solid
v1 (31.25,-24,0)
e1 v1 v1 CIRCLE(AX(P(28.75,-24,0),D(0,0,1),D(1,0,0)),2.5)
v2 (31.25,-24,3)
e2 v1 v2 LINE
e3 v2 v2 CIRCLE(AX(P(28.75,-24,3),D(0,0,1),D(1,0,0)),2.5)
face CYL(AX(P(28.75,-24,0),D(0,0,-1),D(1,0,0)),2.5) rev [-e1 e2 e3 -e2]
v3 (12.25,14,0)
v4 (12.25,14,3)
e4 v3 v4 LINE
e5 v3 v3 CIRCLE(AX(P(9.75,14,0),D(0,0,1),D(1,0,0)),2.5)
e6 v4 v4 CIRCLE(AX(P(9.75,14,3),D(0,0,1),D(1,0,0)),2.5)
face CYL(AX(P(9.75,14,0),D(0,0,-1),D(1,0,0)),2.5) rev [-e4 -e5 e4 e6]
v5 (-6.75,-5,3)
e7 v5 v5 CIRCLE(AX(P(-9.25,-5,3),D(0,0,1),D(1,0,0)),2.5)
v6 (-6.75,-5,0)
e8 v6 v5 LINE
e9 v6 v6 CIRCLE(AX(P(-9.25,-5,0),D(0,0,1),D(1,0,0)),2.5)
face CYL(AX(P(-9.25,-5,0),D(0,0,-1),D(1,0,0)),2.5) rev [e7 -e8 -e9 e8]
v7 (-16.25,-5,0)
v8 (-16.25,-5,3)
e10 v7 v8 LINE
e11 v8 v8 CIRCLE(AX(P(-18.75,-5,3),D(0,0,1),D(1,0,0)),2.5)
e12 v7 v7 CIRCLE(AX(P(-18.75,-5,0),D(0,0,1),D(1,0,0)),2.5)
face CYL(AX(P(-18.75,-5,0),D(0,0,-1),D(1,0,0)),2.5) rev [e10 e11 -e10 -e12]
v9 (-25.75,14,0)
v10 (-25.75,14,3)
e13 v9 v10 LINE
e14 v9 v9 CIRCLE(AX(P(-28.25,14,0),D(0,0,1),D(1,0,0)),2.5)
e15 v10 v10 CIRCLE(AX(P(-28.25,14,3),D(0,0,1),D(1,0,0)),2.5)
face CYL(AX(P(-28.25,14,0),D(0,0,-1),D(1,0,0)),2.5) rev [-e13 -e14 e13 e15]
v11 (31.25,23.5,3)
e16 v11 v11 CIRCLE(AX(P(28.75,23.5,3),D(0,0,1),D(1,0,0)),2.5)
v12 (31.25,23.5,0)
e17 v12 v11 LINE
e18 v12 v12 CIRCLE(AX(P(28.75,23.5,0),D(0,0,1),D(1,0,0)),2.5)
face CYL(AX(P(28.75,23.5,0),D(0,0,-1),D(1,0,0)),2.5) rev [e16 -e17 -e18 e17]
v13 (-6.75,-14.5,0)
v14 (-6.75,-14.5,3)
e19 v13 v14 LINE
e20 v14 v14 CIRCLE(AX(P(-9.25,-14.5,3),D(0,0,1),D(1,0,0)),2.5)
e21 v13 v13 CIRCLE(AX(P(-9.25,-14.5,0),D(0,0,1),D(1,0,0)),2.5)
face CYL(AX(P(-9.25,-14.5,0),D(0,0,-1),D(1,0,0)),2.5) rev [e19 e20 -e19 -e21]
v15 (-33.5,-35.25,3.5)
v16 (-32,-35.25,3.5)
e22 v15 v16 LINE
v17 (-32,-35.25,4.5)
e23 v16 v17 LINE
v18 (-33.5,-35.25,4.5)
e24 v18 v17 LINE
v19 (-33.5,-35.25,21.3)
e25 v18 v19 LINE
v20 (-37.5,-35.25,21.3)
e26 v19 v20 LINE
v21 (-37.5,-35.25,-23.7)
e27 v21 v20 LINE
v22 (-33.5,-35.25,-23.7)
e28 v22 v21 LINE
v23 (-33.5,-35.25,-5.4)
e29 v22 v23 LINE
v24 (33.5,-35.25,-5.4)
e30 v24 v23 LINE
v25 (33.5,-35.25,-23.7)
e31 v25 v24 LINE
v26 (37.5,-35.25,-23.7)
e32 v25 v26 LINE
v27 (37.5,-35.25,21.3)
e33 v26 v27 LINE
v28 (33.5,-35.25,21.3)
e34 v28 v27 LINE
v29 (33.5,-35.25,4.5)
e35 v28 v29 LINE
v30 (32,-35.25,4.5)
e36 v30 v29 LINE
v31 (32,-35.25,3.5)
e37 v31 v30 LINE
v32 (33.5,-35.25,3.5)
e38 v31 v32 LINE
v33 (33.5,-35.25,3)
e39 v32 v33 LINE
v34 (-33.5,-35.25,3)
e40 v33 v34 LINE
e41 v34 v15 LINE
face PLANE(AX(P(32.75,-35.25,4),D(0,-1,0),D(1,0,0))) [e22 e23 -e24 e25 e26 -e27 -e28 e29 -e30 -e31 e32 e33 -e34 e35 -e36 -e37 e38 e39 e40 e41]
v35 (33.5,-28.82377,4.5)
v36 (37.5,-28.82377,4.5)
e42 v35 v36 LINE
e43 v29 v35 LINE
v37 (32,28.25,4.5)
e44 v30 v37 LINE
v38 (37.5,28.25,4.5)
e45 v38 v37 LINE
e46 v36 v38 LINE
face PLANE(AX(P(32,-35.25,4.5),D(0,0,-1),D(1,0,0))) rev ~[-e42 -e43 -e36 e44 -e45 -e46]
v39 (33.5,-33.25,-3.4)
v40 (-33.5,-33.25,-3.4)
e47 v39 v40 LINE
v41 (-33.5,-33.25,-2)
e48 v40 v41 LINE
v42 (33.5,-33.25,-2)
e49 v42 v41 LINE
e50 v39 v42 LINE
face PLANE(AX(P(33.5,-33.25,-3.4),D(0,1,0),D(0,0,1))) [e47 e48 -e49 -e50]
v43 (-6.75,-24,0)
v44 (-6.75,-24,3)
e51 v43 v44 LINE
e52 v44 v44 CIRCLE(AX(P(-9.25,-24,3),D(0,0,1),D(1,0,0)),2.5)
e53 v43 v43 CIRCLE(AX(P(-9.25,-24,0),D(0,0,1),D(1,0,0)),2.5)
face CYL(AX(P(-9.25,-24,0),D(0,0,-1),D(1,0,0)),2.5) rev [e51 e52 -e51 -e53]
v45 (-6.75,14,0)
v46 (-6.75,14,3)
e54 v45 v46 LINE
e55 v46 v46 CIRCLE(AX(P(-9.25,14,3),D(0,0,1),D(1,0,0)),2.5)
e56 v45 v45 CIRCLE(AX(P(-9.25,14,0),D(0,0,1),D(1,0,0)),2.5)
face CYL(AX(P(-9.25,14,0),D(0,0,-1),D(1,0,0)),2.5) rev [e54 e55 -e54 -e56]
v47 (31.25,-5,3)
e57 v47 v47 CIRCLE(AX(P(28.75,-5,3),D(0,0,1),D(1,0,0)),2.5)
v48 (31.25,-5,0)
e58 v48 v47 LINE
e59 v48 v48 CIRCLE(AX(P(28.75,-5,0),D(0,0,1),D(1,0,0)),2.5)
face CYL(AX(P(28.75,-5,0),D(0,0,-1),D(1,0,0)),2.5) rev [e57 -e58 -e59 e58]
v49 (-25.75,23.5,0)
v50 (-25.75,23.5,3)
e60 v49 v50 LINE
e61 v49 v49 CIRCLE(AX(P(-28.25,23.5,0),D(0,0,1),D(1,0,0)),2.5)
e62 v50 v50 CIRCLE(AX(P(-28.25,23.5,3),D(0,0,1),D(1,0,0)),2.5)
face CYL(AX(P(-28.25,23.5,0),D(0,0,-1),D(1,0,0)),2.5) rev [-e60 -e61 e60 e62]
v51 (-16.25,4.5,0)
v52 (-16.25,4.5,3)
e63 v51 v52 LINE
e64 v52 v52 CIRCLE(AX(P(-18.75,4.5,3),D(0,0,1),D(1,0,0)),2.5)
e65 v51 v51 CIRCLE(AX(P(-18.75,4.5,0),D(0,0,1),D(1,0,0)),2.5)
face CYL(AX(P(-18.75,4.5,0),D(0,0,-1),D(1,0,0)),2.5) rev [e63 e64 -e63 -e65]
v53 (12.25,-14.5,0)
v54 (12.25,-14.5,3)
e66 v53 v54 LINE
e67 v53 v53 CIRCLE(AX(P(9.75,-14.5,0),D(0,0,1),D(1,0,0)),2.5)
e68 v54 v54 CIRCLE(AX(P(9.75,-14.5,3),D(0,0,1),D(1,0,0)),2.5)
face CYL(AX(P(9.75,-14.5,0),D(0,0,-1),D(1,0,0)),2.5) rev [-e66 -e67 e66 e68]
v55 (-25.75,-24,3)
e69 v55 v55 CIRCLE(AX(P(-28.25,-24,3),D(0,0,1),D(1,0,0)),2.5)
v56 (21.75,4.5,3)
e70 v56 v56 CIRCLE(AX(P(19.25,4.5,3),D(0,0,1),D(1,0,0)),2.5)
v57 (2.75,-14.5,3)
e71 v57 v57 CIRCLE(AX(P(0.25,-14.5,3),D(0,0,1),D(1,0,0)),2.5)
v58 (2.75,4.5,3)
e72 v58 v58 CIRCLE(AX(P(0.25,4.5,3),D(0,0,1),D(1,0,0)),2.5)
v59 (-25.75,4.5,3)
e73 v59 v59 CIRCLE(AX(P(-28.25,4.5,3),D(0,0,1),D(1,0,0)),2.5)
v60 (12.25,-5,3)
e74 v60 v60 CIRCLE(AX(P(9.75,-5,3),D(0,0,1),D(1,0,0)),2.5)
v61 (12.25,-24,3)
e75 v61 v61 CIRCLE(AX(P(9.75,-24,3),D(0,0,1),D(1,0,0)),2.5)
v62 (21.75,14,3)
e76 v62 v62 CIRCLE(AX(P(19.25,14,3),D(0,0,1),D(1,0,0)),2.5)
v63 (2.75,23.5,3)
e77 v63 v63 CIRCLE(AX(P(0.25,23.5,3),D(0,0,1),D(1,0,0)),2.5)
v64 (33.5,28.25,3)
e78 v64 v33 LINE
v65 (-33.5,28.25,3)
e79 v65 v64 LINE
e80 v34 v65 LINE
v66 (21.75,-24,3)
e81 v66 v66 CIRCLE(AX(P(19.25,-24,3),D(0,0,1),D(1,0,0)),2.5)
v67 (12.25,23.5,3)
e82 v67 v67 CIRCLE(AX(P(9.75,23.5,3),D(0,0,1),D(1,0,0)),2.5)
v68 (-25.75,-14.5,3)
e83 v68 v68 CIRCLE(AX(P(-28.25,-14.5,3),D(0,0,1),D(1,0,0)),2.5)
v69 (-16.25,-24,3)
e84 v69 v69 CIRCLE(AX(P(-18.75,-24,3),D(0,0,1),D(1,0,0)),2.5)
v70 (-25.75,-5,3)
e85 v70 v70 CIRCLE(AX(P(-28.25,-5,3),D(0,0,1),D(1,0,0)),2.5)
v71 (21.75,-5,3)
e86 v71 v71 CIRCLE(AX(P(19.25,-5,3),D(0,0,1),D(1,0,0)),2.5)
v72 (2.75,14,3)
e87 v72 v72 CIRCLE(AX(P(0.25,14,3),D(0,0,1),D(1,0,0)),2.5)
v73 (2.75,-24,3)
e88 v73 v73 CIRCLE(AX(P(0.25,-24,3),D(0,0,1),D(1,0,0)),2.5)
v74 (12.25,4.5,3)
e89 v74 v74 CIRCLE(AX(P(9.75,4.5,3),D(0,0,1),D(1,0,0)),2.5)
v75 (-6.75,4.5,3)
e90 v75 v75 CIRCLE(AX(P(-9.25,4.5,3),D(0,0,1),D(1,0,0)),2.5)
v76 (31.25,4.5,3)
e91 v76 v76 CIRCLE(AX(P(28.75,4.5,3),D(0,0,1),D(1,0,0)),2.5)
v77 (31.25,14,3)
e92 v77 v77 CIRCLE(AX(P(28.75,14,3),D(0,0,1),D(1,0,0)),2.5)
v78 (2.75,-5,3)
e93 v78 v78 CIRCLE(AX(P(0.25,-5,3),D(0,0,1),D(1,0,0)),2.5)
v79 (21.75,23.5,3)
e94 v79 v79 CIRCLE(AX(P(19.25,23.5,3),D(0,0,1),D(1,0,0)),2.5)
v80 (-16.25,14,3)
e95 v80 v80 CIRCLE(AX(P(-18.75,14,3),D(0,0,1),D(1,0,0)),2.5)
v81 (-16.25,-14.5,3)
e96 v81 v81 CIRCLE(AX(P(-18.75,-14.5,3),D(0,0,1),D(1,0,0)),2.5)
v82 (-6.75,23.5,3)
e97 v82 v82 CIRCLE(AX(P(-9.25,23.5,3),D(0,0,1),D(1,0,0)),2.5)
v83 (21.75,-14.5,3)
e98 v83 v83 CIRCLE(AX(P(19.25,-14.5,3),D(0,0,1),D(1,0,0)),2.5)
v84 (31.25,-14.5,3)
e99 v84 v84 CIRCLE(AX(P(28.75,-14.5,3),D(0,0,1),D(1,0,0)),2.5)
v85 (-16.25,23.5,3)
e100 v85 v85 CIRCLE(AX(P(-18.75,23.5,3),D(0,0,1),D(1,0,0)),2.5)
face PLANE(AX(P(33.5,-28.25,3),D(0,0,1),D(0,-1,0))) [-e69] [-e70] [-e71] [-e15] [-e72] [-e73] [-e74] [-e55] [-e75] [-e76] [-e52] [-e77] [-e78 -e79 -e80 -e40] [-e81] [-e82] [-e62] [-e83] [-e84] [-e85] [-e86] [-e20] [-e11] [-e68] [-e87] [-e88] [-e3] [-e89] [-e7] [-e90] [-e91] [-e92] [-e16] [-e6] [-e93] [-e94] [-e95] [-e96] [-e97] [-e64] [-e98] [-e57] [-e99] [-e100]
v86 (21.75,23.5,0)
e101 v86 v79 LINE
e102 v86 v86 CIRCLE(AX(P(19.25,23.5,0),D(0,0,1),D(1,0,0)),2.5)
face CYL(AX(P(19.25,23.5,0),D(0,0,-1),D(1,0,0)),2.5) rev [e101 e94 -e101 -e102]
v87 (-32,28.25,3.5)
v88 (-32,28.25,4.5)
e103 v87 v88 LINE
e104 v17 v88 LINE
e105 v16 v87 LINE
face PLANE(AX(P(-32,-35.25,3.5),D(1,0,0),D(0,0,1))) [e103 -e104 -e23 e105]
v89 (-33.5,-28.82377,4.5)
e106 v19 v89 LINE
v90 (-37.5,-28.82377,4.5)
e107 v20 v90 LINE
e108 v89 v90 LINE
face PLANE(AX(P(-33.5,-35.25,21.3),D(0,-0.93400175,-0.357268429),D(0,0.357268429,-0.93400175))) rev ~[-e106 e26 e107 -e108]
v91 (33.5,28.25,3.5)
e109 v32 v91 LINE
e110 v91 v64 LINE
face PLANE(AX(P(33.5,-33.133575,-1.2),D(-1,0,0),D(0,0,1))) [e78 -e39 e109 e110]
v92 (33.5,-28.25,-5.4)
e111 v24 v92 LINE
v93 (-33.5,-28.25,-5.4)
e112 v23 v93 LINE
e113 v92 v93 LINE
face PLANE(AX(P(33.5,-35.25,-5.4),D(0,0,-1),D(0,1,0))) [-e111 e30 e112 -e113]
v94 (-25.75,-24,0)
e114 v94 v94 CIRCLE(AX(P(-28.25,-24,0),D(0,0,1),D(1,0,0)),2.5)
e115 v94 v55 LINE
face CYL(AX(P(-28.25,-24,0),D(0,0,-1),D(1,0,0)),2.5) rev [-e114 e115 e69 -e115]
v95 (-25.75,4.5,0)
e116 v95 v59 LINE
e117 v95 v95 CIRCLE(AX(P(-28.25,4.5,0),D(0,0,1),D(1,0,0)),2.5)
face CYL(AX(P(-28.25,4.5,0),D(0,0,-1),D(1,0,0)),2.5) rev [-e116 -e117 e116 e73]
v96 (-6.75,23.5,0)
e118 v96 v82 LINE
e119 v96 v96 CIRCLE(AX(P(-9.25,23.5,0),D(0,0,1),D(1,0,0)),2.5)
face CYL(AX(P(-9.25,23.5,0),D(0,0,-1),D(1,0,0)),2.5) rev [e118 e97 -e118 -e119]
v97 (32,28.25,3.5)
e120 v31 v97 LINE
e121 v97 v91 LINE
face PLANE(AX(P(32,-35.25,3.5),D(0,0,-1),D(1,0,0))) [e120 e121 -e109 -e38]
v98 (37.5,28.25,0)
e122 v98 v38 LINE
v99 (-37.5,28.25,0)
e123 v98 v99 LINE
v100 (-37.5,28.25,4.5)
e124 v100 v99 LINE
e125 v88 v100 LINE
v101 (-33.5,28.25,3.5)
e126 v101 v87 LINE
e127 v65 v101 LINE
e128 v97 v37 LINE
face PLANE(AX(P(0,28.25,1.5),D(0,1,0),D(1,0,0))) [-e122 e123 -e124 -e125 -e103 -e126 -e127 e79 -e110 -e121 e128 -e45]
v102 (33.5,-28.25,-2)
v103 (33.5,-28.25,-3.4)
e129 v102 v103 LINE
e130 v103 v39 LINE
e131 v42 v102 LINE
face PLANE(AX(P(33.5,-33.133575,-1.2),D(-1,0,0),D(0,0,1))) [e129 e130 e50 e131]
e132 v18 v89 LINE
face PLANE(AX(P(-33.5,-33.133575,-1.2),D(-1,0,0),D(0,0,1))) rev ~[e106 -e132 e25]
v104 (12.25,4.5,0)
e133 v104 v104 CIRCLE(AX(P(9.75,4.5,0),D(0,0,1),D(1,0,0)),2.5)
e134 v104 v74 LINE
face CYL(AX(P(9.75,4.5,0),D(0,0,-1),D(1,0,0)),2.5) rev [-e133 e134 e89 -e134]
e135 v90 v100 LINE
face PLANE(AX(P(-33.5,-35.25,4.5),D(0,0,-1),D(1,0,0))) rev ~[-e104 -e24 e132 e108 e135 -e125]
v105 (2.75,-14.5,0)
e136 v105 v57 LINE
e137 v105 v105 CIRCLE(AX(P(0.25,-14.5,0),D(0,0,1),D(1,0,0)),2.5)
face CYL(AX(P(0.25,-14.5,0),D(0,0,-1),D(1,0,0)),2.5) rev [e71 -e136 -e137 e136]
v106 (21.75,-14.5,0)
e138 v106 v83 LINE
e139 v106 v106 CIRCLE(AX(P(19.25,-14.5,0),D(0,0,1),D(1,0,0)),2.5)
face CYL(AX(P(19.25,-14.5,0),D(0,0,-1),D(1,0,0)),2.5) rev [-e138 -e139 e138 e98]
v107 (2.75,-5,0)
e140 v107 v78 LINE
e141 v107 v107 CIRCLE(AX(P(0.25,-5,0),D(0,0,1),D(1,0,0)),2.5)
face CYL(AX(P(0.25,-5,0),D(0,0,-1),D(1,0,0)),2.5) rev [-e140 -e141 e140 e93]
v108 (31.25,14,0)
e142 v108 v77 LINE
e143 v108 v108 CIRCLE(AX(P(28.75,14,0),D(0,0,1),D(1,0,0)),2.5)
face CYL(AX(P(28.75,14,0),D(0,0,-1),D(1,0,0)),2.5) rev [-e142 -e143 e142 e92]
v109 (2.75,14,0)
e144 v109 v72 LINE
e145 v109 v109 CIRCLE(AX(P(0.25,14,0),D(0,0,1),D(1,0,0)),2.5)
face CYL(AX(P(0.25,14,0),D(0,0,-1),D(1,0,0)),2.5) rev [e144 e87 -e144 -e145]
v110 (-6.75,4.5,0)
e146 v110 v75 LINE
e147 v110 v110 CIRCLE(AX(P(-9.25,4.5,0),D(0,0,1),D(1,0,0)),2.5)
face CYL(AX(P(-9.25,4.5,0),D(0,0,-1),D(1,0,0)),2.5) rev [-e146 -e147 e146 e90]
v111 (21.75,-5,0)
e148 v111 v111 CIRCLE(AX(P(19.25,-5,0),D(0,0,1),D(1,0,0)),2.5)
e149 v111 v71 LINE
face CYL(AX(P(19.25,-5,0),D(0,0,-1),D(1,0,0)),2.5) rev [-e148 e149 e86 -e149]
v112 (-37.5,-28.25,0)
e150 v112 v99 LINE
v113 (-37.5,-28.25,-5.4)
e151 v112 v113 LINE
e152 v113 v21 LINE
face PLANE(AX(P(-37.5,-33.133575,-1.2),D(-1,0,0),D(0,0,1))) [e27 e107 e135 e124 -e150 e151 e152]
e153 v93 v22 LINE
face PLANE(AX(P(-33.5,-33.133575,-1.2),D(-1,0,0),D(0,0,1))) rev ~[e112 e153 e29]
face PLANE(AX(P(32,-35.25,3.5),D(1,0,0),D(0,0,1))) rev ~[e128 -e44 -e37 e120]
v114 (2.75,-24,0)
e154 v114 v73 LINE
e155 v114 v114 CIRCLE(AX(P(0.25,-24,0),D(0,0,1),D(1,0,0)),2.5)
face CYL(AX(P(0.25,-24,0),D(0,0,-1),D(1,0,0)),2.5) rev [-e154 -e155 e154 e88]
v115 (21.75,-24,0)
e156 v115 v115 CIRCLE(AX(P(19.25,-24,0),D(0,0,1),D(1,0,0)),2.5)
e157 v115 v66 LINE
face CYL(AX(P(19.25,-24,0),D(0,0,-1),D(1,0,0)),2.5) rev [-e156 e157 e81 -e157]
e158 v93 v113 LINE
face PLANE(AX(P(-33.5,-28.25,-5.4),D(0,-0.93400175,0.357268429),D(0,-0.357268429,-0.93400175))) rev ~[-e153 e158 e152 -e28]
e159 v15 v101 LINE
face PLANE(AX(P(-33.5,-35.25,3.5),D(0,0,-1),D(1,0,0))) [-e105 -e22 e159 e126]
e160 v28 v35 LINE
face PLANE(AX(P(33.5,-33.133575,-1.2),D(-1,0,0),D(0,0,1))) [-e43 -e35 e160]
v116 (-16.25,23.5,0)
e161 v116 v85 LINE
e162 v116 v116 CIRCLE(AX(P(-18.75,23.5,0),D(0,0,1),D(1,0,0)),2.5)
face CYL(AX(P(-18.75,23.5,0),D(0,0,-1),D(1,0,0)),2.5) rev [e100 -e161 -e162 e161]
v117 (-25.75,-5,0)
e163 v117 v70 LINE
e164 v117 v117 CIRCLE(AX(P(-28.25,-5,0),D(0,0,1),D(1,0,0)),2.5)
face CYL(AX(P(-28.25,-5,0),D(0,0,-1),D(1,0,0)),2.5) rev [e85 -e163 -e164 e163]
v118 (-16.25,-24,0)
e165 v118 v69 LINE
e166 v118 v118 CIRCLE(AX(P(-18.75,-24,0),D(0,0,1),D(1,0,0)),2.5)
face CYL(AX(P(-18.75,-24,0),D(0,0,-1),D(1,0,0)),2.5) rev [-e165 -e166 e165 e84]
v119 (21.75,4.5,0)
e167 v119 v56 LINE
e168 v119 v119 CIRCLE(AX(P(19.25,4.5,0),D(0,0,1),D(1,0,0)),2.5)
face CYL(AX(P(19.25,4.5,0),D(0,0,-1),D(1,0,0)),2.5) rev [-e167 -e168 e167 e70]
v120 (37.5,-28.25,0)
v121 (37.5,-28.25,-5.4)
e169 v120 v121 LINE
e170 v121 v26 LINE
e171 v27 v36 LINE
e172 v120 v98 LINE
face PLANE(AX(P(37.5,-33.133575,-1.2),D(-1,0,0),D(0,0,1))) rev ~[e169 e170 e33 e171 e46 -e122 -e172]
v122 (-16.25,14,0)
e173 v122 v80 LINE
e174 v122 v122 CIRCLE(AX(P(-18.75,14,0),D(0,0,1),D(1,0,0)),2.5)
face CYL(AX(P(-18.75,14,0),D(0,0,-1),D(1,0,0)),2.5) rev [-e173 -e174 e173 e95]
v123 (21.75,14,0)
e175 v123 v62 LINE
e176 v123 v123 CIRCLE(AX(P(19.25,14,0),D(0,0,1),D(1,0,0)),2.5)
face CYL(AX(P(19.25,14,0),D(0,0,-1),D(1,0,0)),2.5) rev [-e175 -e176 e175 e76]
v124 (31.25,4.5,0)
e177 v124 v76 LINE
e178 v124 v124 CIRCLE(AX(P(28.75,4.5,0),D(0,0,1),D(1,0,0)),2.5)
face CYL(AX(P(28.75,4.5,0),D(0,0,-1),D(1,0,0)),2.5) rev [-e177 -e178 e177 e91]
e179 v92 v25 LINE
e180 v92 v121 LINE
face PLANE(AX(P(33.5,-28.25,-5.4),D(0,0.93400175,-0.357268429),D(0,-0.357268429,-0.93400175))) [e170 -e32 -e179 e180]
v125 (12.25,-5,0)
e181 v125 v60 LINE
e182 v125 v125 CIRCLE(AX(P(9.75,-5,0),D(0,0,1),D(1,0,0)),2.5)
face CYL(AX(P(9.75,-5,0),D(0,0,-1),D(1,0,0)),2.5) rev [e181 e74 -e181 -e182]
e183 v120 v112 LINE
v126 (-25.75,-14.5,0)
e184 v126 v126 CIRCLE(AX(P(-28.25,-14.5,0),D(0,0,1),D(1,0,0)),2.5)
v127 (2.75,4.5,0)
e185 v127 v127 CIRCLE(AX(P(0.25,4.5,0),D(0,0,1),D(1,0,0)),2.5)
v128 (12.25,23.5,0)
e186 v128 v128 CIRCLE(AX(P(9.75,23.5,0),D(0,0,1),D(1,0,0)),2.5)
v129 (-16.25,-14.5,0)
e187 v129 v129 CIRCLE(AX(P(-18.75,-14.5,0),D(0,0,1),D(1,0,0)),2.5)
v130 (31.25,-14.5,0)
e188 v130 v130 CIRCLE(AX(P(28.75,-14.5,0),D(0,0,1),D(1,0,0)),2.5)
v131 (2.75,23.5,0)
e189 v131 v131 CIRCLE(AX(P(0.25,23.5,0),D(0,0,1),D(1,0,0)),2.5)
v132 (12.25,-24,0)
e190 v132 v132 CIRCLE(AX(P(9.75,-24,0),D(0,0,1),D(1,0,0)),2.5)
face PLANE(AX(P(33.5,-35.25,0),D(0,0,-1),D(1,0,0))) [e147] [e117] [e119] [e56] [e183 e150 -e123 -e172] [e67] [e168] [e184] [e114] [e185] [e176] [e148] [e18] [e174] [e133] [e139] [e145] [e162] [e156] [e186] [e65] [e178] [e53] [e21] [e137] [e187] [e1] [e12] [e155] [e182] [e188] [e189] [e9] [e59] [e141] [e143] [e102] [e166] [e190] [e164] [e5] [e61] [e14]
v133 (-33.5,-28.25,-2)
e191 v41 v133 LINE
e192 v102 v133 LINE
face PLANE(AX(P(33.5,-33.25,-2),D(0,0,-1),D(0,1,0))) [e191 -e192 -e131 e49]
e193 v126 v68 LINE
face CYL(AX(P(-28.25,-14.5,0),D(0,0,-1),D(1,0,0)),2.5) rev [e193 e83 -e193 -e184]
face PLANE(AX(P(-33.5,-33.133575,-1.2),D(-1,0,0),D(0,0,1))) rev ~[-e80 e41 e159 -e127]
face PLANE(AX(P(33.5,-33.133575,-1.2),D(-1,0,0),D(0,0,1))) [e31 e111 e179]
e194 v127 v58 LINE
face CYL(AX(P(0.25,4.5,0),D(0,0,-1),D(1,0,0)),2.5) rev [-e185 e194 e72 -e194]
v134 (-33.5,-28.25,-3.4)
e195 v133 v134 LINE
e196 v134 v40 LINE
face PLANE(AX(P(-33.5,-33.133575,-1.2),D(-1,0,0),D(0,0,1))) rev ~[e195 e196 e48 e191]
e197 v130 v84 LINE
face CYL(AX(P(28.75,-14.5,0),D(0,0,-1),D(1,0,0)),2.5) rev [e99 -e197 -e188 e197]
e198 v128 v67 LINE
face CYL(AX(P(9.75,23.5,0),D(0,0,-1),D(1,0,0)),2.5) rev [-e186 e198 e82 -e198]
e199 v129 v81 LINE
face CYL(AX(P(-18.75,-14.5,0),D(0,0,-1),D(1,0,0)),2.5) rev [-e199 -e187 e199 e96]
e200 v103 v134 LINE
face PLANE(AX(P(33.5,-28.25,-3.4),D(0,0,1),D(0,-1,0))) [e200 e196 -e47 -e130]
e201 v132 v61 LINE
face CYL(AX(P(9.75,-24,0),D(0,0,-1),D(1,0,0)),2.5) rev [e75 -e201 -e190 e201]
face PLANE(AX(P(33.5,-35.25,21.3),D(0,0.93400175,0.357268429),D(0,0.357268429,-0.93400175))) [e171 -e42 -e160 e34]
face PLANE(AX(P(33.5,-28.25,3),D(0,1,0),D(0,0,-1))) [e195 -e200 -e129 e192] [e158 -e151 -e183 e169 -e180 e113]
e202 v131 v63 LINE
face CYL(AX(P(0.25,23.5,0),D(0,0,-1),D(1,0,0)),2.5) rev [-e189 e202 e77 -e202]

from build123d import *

# Parameters (mm, degrees)
SKETCH1_W           = 67
SKETCH1_H           = 56.5
SKETCH1_R           = 2.5
BOSS_EXTRUDE1_DEPTH = 3
BOSS_EXTRUDE2_DEPTH = 67
BOSS_EXTRUDE3_DEPTH = 4
BOSS_EXTRUDE4_DEPTH = 4
BOSS_EXTRUDE5_REACH = 79.461
SKETCH6_W           = 1.5
SKETCH6_H           = 1


with BuildPart() as part:
    # Sketch1 → Boss-Extrude1 (new body)
    with BuildSketch(Plane.XY):
        Rectangle(SKETCH1_W, SKETCH1_H)
        with Locations((-28.25, 23.5)):
            Circle(SKETCH1_R, mode=Mode.SUBTRACT)
        with Locations((-18.75, 23.5)):
            Circle(SKETCH1_R, mode=Mode.SUBTRACT)
        with Locations((-9.25, 23.5)):
            Circle(SKETCH1_R, mode=Mode.SUBTRACT)
        with Locations((0.25, 23.5)):
            Circle(SKETCH1_R, mode=Mode.SUBTRACT)
        with Locations((9.75, 23.5)):
            Circle(SKETCH1_R, mode=Mode.SUBTRACT)
        with Locations((19.25, 23.5)):
            Circle(SKETCH1_R, mode=Mode.SUBTRACT)
        with Locations((28.75, 23.5)):
            Circle(SKETCH1_R, mode=Mode.SUBTRACT)
        with Locations((-18.75, 14)):
            Circle(SKETCH1_R, mode=Mode.SUBTRACT)
        with Locations((-9.25, 14)):
            Circle(SKETCH1_R, mode=Mode.SUBTRACT)
        with Locations((0.25, 14)):
            Circle(SKETCH1_R, mode=Mode.SUBTRACT)
        with Locations((9.75, 14)):
            Circle(SKETCH1_R, mode=Mode.SUBTRACT)
        with Locations((19.25, 14)):
            Circle(SKETCH1_R, mode=Mode.SUBTRACT)
        with Locations((28.75, 14)):
            Circle(SKETCH1_R, mode=Mode.SUBTRACT)
        with Locations((-18.75, 4.5)):
            Circle(SKETCH1_R, mode=Mode.SUBTRACT)
        with Locations((-9.25, 4.5)):
            Circle(SKETCH1_R, mode=Mode.SUBTRACT)
        with Locations((0.25, 4.5)):
            Circle(SKETCH1_R, mode=Mode.SUBTRACT)
        with Locations((9.75, 4.5)):
            Circle(SKETCH1_R, mode=Mode.SUBTRACT)
        with Locations((19.25, 4.5)):
            Circle(SKETCH1_R, mode=Mode.SUBTRACT)
        with Locations((28.75, 4.5)):
            Circle(SKETCH1_R, mode=Mode.SUBTRACT)
        with Locations((-18.75, -5)):
            Circle(SKETCH1_R, mode=Mode.SUBTRACT)
        with Locations((-9.25, -5)):
            Circle(SKETCH1_R, mode=Mode.SUBTRACT)
        with Locations((0.25, -5)):
            Circle(SKETCH1_R, mode=Mode.SUBTRACT)
        with Locations((9.75, -5)):
            Circle(SKETCH1_R, mode=Mode.SUBTRACT)
        with Locations((19.25, -5)):
            Circle(SKETCH1_R, mode=Mode.SUBTRACT)
        with Locations((28.75, -5)):
            Circle(SKETCH1_R, mode=Mode.SUBTRACT)
        with Locations((-18.75, -14.5)):
            Circle(SKETCH1_R, mode=Mode.SUBTRACT)
        with Locations((-9.25, -14.5)):
            Circle(SKETCH1_R, mode=Mode.SUBTRACT)
        with Locations((0.25, -14.5)):
            Circle(SKETCH1_R, mode=Mode.SUBTRACT)
        with Locations((9.75, -14.5)):
            Circle(SKETCH1_R, mode=Mode.SUBTRACT)
        with Locations((19.25, -14.5)):
            Circle(SKETCH1_R, mode=Mode.SUBTRACT)
        with Locations((28.75, -14.5)):
            Circle(SKETCH1_R, mode=Mode.SUBTRACT)
        with Locations((-18.75, -24)):
            Circle(SKETCH1_R, mode=Mode.SUBTRACT)
        with Locations((-9.25, -24)):
            Circle(SKETCH1_R, mode=Mode.SUBTRACT)
        with Locations((0.25, -24)):
            Circle(SKETCH1_R, mode=Mode.SUBTRACT)
        with Locations((9.75, -24)):
            Circle(SKETCH1_R, mode=Mode.SUBTRACT)
        with Locations((19.25, -24)):
            Circle(SKETCH1_R, mode=Mode.SUBTRACT)
        with Locations((28.75, -24)):
            Circle(SKETCH1_R, mode=Mode.SUBTRACT)
        with Locations((-28.25, 14)):
            Circle(SKETCH1_R, mode=Mode.SUBTRACT)
        with Locations((-28.25, 4.5)):
            Circle(SKETCH1_R, mode=Mode.SUBTRACT)
        with Locations((-28.25, -5)):
            Circle(SKETCH1_R, mode=Mode.SUBTRACT)
        with Locations((-28.25, -14.5)):
            Circle(SKETCH1_R, mode=Mode.SUBTRACT)
        with Locations((-28.25, -24)):
            Circle(SKETCH1_R, mode=Mode.SUBTRACT)
    extrude(amount=BOSS_EXTRUDE1_DEPTH)

    # Sketch2 → Boss-Extrude2 (add)
    with BuildSketch(Plane(origin=(33.5, 0, 0), x_dir=(0, 0, -1), z_dir=(1, 0, 0))):
        Polygon((0, -28.25), (-3, -28.25), (-3, -35.25), (5.4, -35.25), (5.4, -28.25), (3.4, -28.25), (3.4, -33.25), (2, -33.25), (2, -28.25), align=None)
    extrude(amount=-BOSS_EXTRUDE2_DEPTH)

    # Sketch3 → Boss-Extrude3 (add)
    with BuildSketch(Plane.ZY.offset(33.5)):
        Polygon((-5.4, -28.25), (-23.7, -35.25), (21.3, -35.25), (3, -28.25), align=None)
    extrude(amount=BOSS_EXTRUDE3_DEPTH)

    # Sketch4 → Boss-Extrude4 (add)
    with BuildSketch(Plane(origin=(33.5, 0, 0), x_dir=(0, 0, -1), z_dir=(1, 0, 0))):
        Polygon((5.4, -28.25), (23.7, -35.25), (-21.3, -35.25), (-3, -28.25), align=None)
    extrude(amount=BOSS_EXTRUDE4_DEPTH)

    # Boss-Extrude5: up to this face of the body (flat: up to its plane)
    boss_extrude5_end = Plane(part.part.faces().sort_by_distance((0, 28.25, 1.5))[0])
    # Sketch6 → Boss-Extrude5 (add, up to the picked face)
    with BuildSketch(Plane.XZ.offset(35.25), mode=Mode.PRIVATE) as boss_extrude5_sk1:
        Polygon((-33.5, 3), (-33.5, 3.5), (-33.5, 4.5), (-37.5, 4.5), (-37.5, 0), (-33.5, 0), align=None)
    boss_extrude5_tool1 = split(extrude(boss_extrude5_sk1.sketch, amount=-BOSS_EXTRUDE5_REACH, mode=Mode.PRIVATE), bisect_by=boss_extrude5_end, keep=Keep.BOTH, mode=Mode.PRIVATE)
    # Sketch6 → Boss-Extrude5 (add, up to the picked face)
    with BuildSketch(Plane.XZ.offset(35.25), mode=Mode.PRIVATE) as boss_extrude5_sk2:
        with Locations((-32.75, 4)):
            Rectangle(SKETCH6_W, SKETCH6_H)
    boss_extrude5_tool2 = split(extrude(boss_extrude5_sk2.sketch, amount=-BOSS_EXTRUDE5_REACH, mode=Mode.PRIVATE), bisect_by=boss_extrude5_end, keep=Keep.BOTH, mode=Mode.PRIVATE)
    # Sketch6 → Boss-Extrude5 (add, up to the picked face)
    with BuildSketch(Plane.XZ.offset(35.25), mode=Mode.PRIVATE) as boss_extrude5_sk3:
        Polygon((33.5, 4.5), (33.5, 3.5), (33.5, 3), (33.5, 0), (37.5, 0), (37.5, 4.5), align=None)
    boss_extrude5_tool3 = split(extrude(boss_extrude5_sk3.sketch, amount=-BOSS_EXTRUDE5_REACH, mode=Mode.PRIVATE), bisect_by=boss_extrude5_end, keep=Keep.BOTH, mode=Mode.PRIVATE)
    # Sketch6 → Boss-Extrude5 (add, up to the picked face)
    with BuildSketch(Plane.XZ.offset(35.25), mode=Mode.PRIVATE) as boss_extrude5_sk4:
        with Locations((32.75, 4)):
            Rectangle(SKETCH6_W, SKETCH6_H)
    boss_extrude5_tool4 = split(extrude(boss_extrude5_sk4.sketch, amount=-BOSS_EXTRUDE5_REACH, mode=Mode.PRIVATE), bisect_by=boss_extrude5_end, keep=Keep.BOTH, mode=Mode.PRIVATE)
    add(boss_extrude5_tool1.solids().sort_by(Axis((-35.5, -35.25, 2.25), (0, 1, 0)))[0])
    add(boss_extrude5_tool2.solids().sort_by(Axis((-32.75, -35.25, 4), (0, 1, 0)))[0])
    add(boss_extrude5_tool3.solids().sort_by(Axis((35.5, -35.25, 2.25), (0, 1, 0)))[0])
    add(boss_extrude5_tool4.solids().sort_by(Axis((32.75, -35.25, 4), (0, 1, 0)))[0])


solid = part.part
